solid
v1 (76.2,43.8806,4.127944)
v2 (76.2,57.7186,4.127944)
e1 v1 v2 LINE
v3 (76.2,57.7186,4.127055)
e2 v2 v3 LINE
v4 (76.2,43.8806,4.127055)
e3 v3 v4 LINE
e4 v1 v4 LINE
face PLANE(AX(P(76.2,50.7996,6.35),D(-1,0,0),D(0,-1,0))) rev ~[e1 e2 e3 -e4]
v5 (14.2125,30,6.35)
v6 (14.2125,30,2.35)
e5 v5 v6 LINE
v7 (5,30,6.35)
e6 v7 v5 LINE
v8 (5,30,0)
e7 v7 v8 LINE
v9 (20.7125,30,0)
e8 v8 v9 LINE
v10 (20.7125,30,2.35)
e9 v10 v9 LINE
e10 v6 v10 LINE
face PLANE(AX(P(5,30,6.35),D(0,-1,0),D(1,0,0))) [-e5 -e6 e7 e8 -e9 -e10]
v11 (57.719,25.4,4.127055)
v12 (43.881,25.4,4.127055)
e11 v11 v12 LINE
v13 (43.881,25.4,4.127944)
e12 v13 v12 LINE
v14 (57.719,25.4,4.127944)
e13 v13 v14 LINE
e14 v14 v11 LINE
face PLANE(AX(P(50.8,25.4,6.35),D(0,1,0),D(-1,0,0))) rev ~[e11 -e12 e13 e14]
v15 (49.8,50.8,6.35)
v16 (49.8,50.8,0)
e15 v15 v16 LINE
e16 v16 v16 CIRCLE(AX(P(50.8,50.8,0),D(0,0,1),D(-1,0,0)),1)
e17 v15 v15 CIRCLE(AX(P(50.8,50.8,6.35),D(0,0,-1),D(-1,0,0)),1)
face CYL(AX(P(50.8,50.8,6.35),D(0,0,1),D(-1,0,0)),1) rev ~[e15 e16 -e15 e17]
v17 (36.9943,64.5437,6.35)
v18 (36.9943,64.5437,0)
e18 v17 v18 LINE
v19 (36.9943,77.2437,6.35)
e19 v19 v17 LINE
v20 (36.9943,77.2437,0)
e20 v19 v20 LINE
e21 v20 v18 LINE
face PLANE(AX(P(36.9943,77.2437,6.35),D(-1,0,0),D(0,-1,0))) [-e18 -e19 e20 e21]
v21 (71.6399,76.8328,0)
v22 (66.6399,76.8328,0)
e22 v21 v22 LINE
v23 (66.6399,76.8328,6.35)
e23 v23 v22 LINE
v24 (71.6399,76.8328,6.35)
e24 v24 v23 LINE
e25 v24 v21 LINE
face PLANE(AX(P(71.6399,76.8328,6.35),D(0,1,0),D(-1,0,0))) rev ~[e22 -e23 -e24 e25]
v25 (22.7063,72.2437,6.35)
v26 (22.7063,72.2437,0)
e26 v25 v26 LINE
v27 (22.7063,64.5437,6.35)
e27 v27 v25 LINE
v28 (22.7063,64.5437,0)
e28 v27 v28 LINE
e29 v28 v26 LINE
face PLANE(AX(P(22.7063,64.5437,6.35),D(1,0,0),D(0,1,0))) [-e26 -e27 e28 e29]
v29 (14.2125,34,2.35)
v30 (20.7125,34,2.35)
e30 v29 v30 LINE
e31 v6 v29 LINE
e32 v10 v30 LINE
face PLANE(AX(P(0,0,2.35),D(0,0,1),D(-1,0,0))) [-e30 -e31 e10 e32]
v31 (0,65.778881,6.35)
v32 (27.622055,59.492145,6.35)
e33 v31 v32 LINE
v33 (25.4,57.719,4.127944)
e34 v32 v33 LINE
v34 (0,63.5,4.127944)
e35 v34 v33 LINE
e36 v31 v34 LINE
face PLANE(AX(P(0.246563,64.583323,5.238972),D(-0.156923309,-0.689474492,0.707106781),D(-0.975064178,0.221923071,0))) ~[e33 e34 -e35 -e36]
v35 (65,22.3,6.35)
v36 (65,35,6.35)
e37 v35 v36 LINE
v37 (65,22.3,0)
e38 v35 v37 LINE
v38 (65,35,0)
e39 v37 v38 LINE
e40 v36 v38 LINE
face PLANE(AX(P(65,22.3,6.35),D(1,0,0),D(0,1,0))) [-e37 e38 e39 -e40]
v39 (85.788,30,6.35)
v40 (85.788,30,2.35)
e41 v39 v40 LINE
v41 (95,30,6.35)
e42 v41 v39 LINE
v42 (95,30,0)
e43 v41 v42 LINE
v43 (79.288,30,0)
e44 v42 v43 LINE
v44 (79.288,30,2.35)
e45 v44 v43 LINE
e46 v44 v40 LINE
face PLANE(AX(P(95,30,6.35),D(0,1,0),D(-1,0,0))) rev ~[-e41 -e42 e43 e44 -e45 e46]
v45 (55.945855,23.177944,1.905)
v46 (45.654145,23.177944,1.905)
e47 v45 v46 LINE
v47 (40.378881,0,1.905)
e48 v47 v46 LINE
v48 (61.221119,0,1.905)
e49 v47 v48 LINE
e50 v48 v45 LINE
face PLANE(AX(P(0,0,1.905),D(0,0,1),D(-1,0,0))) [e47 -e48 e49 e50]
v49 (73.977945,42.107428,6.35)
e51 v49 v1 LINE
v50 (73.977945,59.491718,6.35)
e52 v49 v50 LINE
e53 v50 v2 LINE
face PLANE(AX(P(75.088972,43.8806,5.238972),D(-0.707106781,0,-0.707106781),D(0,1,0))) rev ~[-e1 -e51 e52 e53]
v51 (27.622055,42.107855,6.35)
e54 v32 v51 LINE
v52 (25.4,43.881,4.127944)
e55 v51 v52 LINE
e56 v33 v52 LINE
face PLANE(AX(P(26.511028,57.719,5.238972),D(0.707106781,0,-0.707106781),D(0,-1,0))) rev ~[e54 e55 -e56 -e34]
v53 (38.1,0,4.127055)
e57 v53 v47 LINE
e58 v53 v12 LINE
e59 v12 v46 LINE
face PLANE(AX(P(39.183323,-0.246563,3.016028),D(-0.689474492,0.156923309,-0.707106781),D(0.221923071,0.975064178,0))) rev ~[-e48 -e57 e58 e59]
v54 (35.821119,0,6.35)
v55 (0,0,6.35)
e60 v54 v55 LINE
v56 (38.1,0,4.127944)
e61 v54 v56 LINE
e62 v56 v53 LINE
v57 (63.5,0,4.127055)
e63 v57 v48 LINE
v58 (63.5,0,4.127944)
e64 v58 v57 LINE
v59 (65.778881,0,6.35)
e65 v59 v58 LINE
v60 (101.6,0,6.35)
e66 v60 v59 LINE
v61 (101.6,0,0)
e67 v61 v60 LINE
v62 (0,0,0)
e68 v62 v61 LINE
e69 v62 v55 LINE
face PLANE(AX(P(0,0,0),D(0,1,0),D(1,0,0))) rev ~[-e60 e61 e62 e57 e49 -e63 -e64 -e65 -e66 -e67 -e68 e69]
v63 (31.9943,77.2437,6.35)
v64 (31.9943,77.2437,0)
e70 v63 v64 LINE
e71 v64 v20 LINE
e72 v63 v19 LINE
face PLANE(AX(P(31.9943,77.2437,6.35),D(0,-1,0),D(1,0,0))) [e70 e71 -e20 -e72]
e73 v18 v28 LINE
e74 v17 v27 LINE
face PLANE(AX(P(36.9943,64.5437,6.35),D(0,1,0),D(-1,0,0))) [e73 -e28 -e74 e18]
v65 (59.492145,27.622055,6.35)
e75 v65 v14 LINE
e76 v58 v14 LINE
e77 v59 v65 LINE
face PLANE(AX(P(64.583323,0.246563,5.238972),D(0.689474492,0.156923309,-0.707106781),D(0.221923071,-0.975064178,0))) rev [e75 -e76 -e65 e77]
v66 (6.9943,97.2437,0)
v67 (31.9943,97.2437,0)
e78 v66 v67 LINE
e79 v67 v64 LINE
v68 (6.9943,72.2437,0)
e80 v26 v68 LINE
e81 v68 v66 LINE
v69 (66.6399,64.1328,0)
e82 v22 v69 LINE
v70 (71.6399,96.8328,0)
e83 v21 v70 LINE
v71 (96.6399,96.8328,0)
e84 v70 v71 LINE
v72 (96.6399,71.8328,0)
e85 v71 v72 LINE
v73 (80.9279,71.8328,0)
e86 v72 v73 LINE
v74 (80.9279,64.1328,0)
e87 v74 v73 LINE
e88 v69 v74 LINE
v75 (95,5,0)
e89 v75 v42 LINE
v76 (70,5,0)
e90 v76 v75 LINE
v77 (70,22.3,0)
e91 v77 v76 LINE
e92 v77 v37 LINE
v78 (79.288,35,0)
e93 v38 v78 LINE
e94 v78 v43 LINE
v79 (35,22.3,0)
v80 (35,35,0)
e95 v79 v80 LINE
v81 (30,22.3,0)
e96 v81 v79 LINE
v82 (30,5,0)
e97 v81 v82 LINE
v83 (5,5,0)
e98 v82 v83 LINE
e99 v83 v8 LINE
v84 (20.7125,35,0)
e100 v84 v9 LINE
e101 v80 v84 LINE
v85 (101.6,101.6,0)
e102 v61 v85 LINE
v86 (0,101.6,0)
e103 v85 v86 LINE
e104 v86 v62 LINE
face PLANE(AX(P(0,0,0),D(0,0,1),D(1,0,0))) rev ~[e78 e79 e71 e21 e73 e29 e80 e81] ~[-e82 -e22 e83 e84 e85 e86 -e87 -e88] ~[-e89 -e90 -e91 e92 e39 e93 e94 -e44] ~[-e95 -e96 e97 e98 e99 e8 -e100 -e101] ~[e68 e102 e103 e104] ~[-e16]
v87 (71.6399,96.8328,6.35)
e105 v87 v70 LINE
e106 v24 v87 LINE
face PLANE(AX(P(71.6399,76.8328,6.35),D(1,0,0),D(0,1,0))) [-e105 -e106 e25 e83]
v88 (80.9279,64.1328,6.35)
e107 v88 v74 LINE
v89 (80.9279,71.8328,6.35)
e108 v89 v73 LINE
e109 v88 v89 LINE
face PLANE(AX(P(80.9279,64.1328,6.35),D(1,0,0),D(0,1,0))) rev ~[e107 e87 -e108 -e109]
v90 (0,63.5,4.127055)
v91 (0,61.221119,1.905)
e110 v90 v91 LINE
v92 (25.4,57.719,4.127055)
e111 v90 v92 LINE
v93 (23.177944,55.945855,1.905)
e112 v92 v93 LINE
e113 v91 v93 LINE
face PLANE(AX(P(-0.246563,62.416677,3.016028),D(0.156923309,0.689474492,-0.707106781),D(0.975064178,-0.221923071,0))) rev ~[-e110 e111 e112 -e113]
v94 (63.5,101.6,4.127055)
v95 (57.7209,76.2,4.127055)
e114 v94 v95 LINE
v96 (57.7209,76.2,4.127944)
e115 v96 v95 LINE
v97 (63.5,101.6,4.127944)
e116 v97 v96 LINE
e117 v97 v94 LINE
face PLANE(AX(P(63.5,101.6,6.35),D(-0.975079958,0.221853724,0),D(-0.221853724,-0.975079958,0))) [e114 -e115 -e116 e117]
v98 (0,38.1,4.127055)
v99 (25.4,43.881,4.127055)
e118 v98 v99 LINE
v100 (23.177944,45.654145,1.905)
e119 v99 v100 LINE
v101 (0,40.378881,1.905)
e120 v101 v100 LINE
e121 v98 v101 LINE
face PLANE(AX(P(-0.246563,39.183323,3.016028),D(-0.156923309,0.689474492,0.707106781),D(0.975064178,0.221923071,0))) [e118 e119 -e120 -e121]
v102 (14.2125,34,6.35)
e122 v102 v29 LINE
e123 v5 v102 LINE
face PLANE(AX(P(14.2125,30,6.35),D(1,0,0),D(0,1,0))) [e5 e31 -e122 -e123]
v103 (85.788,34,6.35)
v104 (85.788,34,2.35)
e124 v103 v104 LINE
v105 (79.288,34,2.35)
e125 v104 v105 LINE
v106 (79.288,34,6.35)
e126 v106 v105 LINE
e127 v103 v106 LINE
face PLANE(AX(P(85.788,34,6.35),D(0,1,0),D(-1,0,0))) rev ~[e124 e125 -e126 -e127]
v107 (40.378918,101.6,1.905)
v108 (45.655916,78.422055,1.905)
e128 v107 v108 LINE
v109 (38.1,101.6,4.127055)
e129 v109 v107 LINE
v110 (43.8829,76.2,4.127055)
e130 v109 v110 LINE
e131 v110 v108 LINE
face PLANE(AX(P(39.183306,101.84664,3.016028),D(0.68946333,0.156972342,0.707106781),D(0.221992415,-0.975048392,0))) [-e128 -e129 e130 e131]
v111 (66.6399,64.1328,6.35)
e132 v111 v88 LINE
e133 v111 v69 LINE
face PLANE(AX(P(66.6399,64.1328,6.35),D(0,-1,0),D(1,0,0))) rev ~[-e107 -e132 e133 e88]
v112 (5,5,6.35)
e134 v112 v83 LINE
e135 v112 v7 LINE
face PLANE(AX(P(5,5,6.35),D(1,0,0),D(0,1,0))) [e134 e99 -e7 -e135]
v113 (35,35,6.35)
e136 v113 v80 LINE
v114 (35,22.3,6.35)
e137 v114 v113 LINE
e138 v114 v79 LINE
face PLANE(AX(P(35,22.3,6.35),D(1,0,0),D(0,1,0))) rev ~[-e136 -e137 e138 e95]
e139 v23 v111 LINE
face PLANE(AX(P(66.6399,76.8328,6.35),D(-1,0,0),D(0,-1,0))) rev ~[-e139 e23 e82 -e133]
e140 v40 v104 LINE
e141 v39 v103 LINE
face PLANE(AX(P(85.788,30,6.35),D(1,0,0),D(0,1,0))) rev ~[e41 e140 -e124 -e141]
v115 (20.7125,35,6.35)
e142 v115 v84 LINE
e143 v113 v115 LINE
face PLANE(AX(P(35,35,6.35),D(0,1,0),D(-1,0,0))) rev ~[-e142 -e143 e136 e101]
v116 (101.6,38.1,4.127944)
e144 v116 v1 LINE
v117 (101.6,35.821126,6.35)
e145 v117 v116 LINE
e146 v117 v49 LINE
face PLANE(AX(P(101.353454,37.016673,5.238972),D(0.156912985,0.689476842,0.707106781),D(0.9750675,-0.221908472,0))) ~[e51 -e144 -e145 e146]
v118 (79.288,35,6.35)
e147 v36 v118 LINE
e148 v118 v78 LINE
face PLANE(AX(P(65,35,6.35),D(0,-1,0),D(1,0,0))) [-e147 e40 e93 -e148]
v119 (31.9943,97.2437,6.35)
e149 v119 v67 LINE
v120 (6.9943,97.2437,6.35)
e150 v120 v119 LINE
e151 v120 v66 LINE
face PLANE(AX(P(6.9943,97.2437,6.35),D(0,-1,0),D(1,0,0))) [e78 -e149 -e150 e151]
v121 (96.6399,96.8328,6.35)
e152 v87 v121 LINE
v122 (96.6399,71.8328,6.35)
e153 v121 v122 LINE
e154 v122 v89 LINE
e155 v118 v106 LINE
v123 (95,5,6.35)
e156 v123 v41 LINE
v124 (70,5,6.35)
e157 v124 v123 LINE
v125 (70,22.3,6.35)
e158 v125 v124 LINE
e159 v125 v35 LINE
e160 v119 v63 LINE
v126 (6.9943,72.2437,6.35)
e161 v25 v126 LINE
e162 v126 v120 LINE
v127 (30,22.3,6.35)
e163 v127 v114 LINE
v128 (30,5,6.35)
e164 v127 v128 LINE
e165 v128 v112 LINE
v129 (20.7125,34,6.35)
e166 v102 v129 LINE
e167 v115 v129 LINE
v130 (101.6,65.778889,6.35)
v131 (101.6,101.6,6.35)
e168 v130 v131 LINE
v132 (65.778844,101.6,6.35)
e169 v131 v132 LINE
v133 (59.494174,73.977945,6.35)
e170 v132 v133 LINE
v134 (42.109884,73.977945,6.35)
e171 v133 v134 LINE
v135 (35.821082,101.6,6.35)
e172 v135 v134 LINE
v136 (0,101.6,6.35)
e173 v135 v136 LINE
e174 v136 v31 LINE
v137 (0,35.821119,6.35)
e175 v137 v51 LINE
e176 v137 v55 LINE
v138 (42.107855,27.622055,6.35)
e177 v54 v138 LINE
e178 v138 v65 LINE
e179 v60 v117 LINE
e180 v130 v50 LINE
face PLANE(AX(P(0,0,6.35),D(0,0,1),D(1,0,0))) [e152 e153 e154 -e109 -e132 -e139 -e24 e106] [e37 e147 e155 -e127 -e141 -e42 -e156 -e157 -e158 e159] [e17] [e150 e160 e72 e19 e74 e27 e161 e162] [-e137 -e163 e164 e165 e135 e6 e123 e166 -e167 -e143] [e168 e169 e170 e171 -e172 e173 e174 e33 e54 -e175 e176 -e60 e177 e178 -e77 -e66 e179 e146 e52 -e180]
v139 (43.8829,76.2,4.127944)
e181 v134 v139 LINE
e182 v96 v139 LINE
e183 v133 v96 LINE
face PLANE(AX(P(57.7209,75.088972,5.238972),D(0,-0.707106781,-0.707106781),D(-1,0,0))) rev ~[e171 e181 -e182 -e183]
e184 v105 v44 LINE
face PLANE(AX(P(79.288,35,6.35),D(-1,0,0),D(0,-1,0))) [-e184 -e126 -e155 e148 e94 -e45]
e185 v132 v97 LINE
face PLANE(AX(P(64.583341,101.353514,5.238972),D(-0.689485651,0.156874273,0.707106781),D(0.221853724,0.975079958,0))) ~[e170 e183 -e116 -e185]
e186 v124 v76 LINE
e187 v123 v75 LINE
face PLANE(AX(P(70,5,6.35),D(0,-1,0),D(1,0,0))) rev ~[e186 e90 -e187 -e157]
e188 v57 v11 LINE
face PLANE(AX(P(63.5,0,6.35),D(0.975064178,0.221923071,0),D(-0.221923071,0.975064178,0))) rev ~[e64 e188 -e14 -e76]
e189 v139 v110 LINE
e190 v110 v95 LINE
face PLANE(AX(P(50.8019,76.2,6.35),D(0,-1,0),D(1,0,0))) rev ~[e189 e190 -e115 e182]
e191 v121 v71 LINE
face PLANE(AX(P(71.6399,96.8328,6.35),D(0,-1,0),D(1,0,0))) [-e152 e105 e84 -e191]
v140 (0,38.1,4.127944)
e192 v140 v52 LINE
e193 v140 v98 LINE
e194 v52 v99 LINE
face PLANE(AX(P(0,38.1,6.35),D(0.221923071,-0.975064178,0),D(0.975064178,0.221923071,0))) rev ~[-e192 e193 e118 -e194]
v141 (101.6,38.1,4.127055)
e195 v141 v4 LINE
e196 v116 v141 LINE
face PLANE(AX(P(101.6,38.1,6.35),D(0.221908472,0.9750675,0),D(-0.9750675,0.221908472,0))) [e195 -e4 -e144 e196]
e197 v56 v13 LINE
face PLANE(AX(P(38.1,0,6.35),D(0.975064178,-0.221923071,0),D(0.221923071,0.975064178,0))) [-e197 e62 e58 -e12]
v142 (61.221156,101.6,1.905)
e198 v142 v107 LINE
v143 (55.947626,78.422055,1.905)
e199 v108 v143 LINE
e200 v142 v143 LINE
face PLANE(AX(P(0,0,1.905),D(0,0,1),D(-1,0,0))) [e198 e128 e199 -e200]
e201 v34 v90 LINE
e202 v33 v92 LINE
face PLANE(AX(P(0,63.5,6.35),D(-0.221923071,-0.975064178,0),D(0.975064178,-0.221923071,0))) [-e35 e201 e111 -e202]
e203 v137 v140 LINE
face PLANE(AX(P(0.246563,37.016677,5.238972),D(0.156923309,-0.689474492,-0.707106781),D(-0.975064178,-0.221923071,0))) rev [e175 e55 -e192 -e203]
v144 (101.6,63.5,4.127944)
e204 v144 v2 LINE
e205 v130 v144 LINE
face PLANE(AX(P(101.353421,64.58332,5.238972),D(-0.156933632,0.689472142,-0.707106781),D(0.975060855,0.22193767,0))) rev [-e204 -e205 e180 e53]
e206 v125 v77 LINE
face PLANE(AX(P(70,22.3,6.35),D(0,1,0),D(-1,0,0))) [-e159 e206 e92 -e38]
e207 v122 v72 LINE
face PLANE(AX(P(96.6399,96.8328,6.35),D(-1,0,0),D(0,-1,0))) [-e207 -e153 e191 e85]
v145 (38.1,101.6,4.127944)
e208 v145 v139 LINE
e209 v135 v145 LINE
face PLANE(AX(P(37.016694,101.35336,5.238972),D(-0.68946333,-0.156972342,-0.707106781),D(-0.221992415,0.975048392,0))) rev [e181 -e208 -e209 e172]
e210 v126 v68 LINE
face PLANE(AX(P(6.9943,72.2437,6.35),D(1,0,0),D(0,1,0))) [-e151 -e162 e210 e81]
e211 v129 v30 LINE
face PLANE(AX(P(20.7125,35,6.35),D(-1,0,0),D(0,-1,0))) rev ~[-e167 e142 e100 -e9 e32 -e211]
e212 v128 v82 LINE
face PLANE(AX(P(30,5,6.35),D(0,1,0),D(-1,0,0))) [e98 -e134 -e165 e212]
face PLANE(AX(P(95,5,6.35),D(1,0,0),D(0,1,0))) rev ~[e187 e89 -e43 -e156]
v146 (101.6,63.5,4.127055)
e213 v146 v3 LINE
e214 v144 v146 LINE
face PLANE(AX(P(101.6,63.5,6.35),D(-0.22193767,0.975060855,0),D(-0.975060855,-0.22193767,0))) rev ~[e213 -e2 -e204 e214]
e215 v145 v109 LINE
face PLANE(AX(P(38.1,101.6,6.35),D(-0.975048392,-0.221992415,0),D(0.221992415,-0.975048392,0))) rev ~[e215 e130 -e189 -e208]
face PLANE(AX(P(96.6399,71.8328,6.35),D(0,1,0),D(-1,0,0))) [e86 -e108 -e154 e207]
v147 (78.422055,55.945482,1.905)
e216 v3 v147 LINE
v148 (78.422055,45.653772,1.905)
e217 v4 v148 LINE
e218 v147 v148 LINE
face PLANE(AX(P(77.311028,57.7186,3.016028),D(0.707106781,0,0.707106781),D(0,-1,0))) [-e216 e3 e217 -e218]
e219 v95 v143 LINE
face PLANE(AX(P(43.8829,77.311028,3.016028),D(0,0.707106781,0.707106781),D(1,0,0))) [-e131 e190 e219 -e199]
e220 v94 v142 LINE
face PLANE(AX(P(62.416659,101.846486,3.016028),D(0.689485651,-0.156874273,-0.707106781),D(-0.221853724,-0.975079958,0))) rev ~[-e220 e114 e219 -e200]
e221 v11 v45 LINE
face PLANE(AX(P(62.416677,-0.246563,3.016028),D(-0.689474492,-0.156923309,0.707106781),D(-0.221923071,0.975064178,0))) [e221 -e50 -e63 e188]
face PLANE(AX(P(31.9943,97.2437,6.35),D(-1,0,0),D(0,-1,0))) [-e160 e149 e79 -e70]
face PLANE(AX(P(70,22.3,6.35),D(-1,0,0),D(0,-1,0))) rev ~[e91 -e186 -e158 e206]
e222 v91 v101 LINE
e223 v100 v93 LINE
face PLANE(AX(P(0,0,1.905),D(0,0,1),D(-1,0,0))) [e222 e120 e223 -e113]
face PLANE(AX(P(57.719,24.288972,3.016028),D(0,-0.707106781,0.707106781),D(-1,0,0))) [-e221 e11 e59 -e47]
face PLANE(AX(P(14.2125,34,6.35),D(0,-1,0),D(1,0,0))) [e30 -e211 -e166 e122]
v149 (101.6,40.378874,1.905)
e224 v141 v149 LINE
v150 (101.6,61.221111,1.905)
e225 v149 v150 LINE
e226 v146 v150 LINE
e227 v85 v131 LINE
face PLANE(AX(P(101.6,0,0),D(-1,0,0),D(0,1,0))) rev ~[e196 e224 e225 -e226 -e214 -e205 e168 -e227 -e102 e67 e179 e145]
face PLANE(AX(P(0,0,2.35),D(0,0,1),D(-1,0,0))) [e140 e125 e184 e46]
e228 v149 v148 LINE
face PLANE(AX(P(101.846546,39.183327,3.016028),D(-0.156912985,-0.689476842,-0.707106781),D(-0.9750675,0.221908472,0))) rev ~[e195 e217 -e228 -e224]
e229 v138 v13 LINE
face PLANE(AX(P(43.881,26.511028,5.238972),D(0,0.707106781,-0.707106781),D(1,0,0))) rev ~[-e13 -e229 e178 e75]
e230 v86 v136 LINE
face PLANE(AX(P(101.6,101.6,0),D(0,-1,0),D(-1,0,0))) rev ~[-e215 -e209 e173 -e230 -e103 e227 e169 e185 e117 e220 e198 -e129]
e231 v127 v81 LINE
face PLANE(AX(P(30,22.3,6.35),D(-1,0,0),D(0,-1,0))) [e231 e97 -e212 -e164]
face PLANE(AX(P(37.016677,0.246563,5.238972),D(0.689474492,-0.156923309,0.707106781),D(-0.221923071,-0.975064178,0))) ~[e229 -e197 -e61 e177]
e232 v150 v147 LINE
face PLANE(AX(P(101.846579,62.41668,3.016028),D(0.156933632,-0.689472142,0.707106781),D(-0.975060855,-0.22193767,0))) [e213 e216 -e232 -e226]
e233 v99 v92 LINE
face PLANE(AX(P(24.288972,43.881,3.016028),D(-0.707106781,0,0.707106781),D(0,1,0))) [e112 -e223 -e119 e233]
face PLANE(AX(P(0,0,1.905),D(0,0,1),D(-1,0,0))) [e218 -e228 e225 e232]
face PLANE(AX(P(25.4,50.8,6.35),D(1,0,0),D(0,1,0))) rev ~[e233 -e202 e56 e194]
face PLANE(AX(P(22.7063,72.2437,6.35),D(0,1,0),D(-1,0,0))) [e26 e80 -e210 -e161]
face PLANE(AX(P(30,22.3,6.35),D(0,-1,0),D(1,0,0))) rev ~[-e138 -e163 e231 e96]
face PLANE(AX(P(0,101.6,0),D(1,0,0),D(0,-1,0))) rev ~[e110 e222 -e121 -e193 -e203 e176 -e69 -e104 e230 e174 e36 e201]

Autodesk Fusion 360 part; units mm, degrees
sketch "Sketch1" plane through (0, 0, 0) normal (0, 0, 1) x (1, 0, 0)
  line L0 (0, 0) -> (10, 0)
  line L1 (10, 0) -> (101.6, 0)
  line L2 (101.6, 0) -> (101.6, 101.6)
  line L3 (101.6, 101.6) -> (0, 101.6)
  line L4 (0, 101.6) -> (0, 0)
  dimension "d32" = 101.6
  dimension "d55" = 101.6
  dimension "d56" = 101.6
extrude "Extrude1" add sketch "Sketch1" along normal blind 6.35
sketch "Sketch2" plane through (0, 0, 6.35) normal (0, 0, 1) x (-1, 0, 0)
  line L0 (0, -101.6) -> (0, 0)
  line L1 (0, 0) -> (-101.6, 0)
  line L2 (-101.6, 0) -> (-101.6, -101.6)
  line L3 (-101.6, -101.6) -> (0, -101.6)
  line L4 (0, 0) -> (-50.8, 0)
  line L5 (0, 0) -> (0, -50.8)
  circle A0 centre (-50.8, -50.8) radius 1
  line L6 (0, -50.8) -> (-49.8, -50.8)
  line L7 (-51.8, -50.8) -> (-101.6, -50.8)
  line L8 (-50.8, 0) -> (-50.8, -49.8)
  line L9 (-50.8, -51.8) -> (-50.8, -101.6)
  dimension "d33" = 50.8
  dimension "d34" = 50.8
  dimension "d35" = 2
extrude "Extrude2" cut sketch "Sketch2" against normal blind 6.35 contours A0
sketch "Sketch3" plane through (0, 0, 6.35) normal (0, 0, 1) x (-1, 0, 0)
  line L0 (0, -101.6) -> (0, 0)
  line L1 (0, 0) -> (-101.6, 0)
  line L2 (-101.6, 0) -> (-101.6, -101.6)
  line L3 (-101.6, -101.6) -> (0, -101.6)
  line L4 (0, -50.8) -> (0, -38.1)
  line L5 (0, -50.8) -> (0, -63.5)
  line L6 (-50.8, -101.6) -> (-38.1, -101.6)
  line L7 (-50.8, -101.6) -> (-63.5, -101.6)
  line L8 (-101.6, -50.8) -> (-101.6, -63.5)
  line L9 (-101.6, -50.8) -> (-101.6, -38.1)
  line L10 (-50.8, 0) -> (-38.1, 0)
  line L11 (-50.8, 0) -> (-63.5, 0)
  line L12 (-50.8019, -76.2) -> (-43.8829, -76.2)
  line L13 (-50.8019, -76.2) -> (-57.7209, -76.2)
  line L14 (-25.4, -50.8) -> (-25.4, -43.881)
  line L15 (-25.4, -50.8) -> (-25.4, -57.719)
  line L16 (-76.2, -50.7996) -> (-76.2, -57.7186)
  line L17 (-76.2, -50.7996) -> (-76.2, -43.8806)
  line L18 (-38.1, 0) -> (-43.881, -25.4)
  line L19 (-63.5, 0) -> (-57.719, -25.4)
  line L20 (0, -38.1) -> (-25.4, -43.881)
  line L21 (0, -63.5) -> (-25.4, -57.719)
  line L22 (-38.1, -101.6) -> (-43.8829, -76.2)
  line L23 (-63.5, -101.6) -> (-57.7209, -76.2)
  line L24 (-101.6, -63.5) -> (-76.2, -57.7186)
  line L25 (-101.6, -38.1) -> (-76.2, -43.8806)
  circle A0 centre (-50.8, -50.8) radius 1
  line L26 (-50.8, -25.4) -> (-43.881, -25.4)
  line L27 (-50.8, -25.4) -> (-57.719, -25.4)
  dimension "d8" = 12.7
  dimension "d9" = 12.7
  dimension "d10" = 12.7
  dimension "d11" = 12.7
  dimension "d12" = 12.7
  dimension "d13" = 12.7
  dimension "d14" = 12.7
  dimension "d15" = 12.7
  dimension "d17" = 25.4
  dimension "d18" = 25.4
  dimension "d36" = 6.919
  dimension "d37" = 6.919
  dimension "d40" = 6.919
  dimension "d41" = 6.919
  dimension "d42" = 25.4
  dimension "d43" = 26.0496
  dimension "d44" = 26.0496
  dimension "d45" = 26.0496
  dimension "d46" = 6.919
  dimension "d47" = 6.919
  dimension "d48" = 6.919
  dimension "d49" = 6.919
  dimension "d50" = 25.4
  dimension "d51" = 25.4
  dimension "d52" = 26.05
extrude "Extrude3" cut sketch "Sketch3" against normal blind 4.445 contours L0 L4 L5 L14 L15 L20 L21 | L3 L6 L7 L12 L13 L22 L23 | L1 L10 L11 L18 L19 L26 L27 | L2 L8 L9 L16 L17 L24 L25
chamfer "Chamfer1" distance 2.2225 angle 45 6 edges at (40.9905, 12.7, 6.35) (40.9905, 12.7, 1.905) (60.6095, 12.7, 6.35) (60.6095, 12.7, 1.905) (50.8, 25.4, 1.905) (50.8, 25.4, 6.35) measured on face at (23.0943, 78.5063, 6.35) measured on face at (40.027, 8.4667, 4.8683) measured on face at (23.0943, 78.5063, 6.35) measured on face at (61.573, 8.4667, 4.8683) measured on face at (53.1063, 25.4, 4.8683) measured on face at (23.0943, 78.5063, 6.35)
chamfer "Chamfer2" distance 2.2225 angle 45 6 edges at (88.9, 60.6093, 1.905) (88.9, 60.6093, 6.35) (76.2, 50.7996, 6.35) (76.2, 50.7996, 1.905) (88.9, 40.9903, 6.35) (88.9, 40.9903, 1.905) measured on face at (93.1333, 61.5729, 4.8683) measured on face at (14.036, 21.9074, 6.35) measured on face at (14.036, 21.9074, 6.35) measured on face at (76.2, 53.1059, 4.8683) measured on face at (14.036, 21.9074, 6.35) measured on face at (93.1333, 40.0269, 4.8683)
chamfer "Chamfer3" distance 2.2225 angle 45 6 edges at (60.6105, 88.9, 6.35) (60.6105, 88.9, 1.905) (50.8019, 76.2, 6.35) (50.8019, 76.2, 1.905) (40.9915, 88.9, 6.35) (40.9915, 88.9, 1.905) measured on face at (79.6926, 87.5639, 6.35) measured on face at (61.5736, 93.1333, 4.8683) measured on face at (79.6926, 87.5639, 6.35) measured on face at (48.4956, 76.2, 4.8683) measured on face at (79.6926, 87.5639, 6.35) measured on face at (40.0276, 93.1333, 4.8683)
chamfer "Chamfer4" distance 2.2225 angle 45 6 edges at (12.7, 60.6095, 1.905) (12.7, 60.6095, 6.35) (25.4, 50.8, 6.35) (25.4, 50.8, 1.905) (12.7, 40.9905, 6.35) (12.7, 40.9905, 1.905) measured on face at (16.9333, 59.646, 3.3867) measured on face at (14.0366, 79.6926, 6.35) measured on face at (14.0366, 79.6926, 6.35) measured on face at (25.4, 48.4937, 4.8683) measured on face at (14.0366, 79.6926, 6.35) measured on face at (8.4667, 40.027, 4.8683)
sketch "Sketch5" plane through (0, 0, 6.35) normal (0, 0, 1) x (-1, 0, 0)
  line L0 (0, -65.7793) -> (-27.6225, -59.4925)
  line L1 (-27.6225, -59.4925) -> (-27.6225, -42.1075)
  line L2 (-27.6225, -42.1075) -> (0, -35.8207)
  line L3 (0, -35.8207) -> (0, 0)
  line L4 (0, 0) -> (-35.8207, 0)
  line L5 (-35.8207, 0) -> (-42.1075, -27.6225)
  line L6 (-42.1075, -27.6225) -> (-59.4925, -27.6225)
  line L7 (-59.4925, -27.6225) -> (-65.7793, 0)
  line L8 (-65.7793, 0) -> (-101.6, 0)
  line L9 (-101.6, 0) -> (-101.6, -35.8207)
  line L10 (-101.6, -35.8207) -> (-73.9775, -42.1071)
  line L11 (-73.9775, -42.1071) -> (-73.9775, -59.4921)
  line L12 (-73.9775, -59.4921) -> (-101.6, -65.7793)
  line L13 (-101.6, -65.7793) -> (-101.6, -101.6)
  line L14 (-101.6, -101.6) -> (-65.7793, -101.6)
  line L15 (-65.7793, -101.6) -> (-59.4946, -73.9775)
  line L16 (-59.4946, -73.9775) -> (-42.1096, -73.9775)
  line L17 (-42.1096, -73.9775) -> (-35.8206, -101.6)
  line L18 (-35.8206, -101.6) -> (0, -101.6)
  line L19 (0, -101.6) -> (0, -65.7793)
  circle A0 centre (-50.8, -50.8) radius 1
  line L20 (-5, -30) -> (-20.7125, -30)
  line L21 (-30, -22.3) -> (-30, -5)
  line L22 (-30, -5) -> (-5, -5)
  line L23 (-5, -5) -> (-5, -30)
  line L24 (-6.9943, -97.2437) -> (-31.9943, -97.2437)
  line L25 (-31.9943, -97.2437) -> (-31.9943, -77.2437)
  line L26 (-22.7063, -72.2437) -> (-6.9943, -72.2437)
  line L27 (-6.9943, -72.2437) -> (-6.9943, -97.2437)
  line L28 (-71.6399, -96.8328) -> (-96.6399, -96.8328)
  line L29 (-96.6399, -96.8328) -> (-96.6399, -71.8328)
  line L30 (-96.6399, -71.8328) -> (-80.9279, -71.8328)
  line L31 (-71.6399, -76.8328) -> (-71.6399, -96.8328)
  line L32 (-70, -5) -> (-95, -5)
  line L33 (-95, -5) -> (-95, -30)
  line L34 (-95, -30) -> (-79.288, -30)
  line L35 (-70, -22.3) -> (-70, -5)
  line L36 (-65, -35) -> (-79.288, -35)
  line L37 (-79.288, -35) -> (-79.288, -30)
  line L38 (-70, -22.3) -> (-65, -22.3)
  line L39 (-65, -22.3) -> (-65, -35)
  line L40 (-35, -35) -> (-20.7125, -35)
  line L41 (-20.7125, -35) -> (-20.7125, -30)
  line L42 (-30, -22.3) -> (-35, -22.3)
  line L43 (-35, -22.3) -> (-35, -35)
  line L44 (-31.9943, -77.2437) -> (-36.9943, -77.2437)
  line L45 (-36.9943, -77.2437) -> (-36.9943, -64.5437)
  line L46 (-36.9943, -64.5437) -> (-22.7063, -64.5437)
  line L47 (-22.7063, -64.5437) -> (-22.7063, -72.2437)
  line L48 (-71.6399, -76.8328) -> (-66.6399, -76.8328)
  line L49 (-66.6399, -76.8328) -> (-66.6399, -64.1328)
  line L50 (-66.6399, -64.1328) -> (-80.9279, -64.1328)
  line L51 (-80.9279, -64.1328) -> (-80.9279, -71.8328)
  line L52 (-35, -35) -> (-20.7125, -35)
  line L53 (-20.7125, -35) -> (-20.7125, -30)
  line L54 (-30, -22.3) -> (-35, -22.3)
  line L55 (-35, -22.3) -> (-35, -35)
  dimension "d57" = 14.2875
  dimension "d58" = 12.7
  dimension "d59" = 14.2875
  dimension "d60" = 12.7
  dimension "d61" = 14.288
  dimension "d62" = 12.7
  dimension "d63" = 14.288
  dimension "d64" = 12.7
  dimension "d65" = 12.7
  dimension "d66" = 14.288
extrude "Extrude5" cut sketch "Sketch5" against normal blind 6.35 contours L20 L21 L22 L23 L40 L41 L42 L43 L52 L53 L54 L55 | L24 L25 L26 L27 L44 L45 L46 L47 | L28 L29 L30 L31 L48 L49 L50 L51 | L32 L33 L34 L35 L36 L37 L38 L39
sketch "Sketch6" plane through (0, 0, 6.35) normal (0, 0, 1) x (-1, 0, 0)
  line L0 (-35, -35) -> (-35, -22.3)
  line L1 (-35, -22.3) -> (-30, -22.3)
  line L2 (-30, -22.3) -> (-30, -5)
  line L3 (-30, -5) -> (-5, -5)
  line L4 (-5, -5) -> (-5, -30)
  line L5 (-5, -30) -> (-20.7125, -30)
  line L6 (-20.7125, -30) -> (-20.7125, -35)
  line L7 (-20.7125, -35) -> (-35, -35)
  line L8 (-66.6399, -64.1328) -> (-66.6399, -76.8328)
  line L9 (-66.6399, -76.8328) -> (-71.6399, -76.8328)
  line L10 (-71.6399, -76.8328) -> (-71.6399, -96.8328)
  line L11 (-71.6399, -96.8328) -> (-96.6399, -96.8328)
  line L12 (-96.6399, -96.8328) -> (-96.6399, -71.8328)
  line L13 (-96.6399, -71.8328) -> (-80.9279, -71.8328)
  line L14 (-80.9279, -71.8328) -> (-80.9279, -64.1328)
  line L15 (-80.9279, -64.1328) -> (-66.6399, -64.1328)
  line L16 (-36.9943, -77.2437) -> (-36.9943, -64.5437)
  line L17 (-36.9943, -64.5437) -> (-22.7063, -64.5437)
  line L18 (-22.7063, -64.5437) -> (-22.7063, -72.2437)
  line L19 (-22.7063, -72.2437) -> (-6.9943, -72.2437)
  line L20 (-6.9943, -72.2437) -> (-6.9943, -97.2437)
  line L21 (-6.9943, -97.2437) -> (-31.9943, -97.2437)
  line L22 (-31.9943, -97.2437) -> (-31.9943, -77.2437)
  line L23 (-31.9943, -77.2437) -> (-36.9943, -77.2437)
  line L24 (-95, -5) -> (-70, -5)
  line L25 (-70, -5) -> (-70, -22.3)
  line L26 (-70, -22.3) -> (-65, -22.3)
  line L27 (-65, -22.3) -> (-65, -35)
  line L28 (-65, -35) -> (-79.288, -35)
  line L29 (-79.288, -35) -> (-79.288, -30)
  line L30 (-79.288, -30) -> (-95, -30)
  line L31 (-95, -30) -> (-95, -5)
  line L32 (0, -65.7793) -> (-27.6225, -59.4925)
  line L33 (-27.6225, -59.4925) -> (-27.6225, -42.1075)
  line L34 (-27.6225, -42.1075) -> (0, -35.8207)
  line L35 (0, -35.8207) -> (0, 0)
  line L36 (0, 0) -> (-35.8207, 0)
  line L37 (-35.8207, 0) -> (-42.1075, -27.6225)
  line L38 (-42.1075, -27.6225) -> (-59.4925, -27.6225)
  line L39 (-59.4925, -27.6225) -> (-65.7793, 0)
  line L40 (-65.7793, 0) -> (-101.6, 0)
  line L41 (-101.6, 0) -> (-101.6, -35.8207)
  line L42 (-101.6, -35.8207) -> (-73.9775, -42.1071)
  line L43 (-73.9775, -42.1071) -> (-73.9775, -59.4921)
  line L44 (-73.9775, -59.4921) -> (-101.6, -65.7793)
  line L45 (-101.6, -65.7793) -> (-101.6, -101.6)
  line L46 (-101.6, -101.6) -> (-65.7793, -101.6)
  line L47 (-65.7793, -101.6) -> (-59.4946, -73.9775)
  line L48 (-59.4946, -73.9775) -> (-42.1096, -73.9775)
  line L49 (-42.1096, -73.9775) -> (-35.8206, -101.6)
  line L50 (-35.8206, -101.6) -> (0, -101.6)
  line L51 (0, -101.6) -> (0, -65.7793)
  circle A0 centre (-50.8, -50.8) radius 1
  line L52 (-70, -22.3) -> (-66, -22.3)
  line L53 (-66, -22.3) -> (-66, -15.8)
  line L54 (-66, -15.8) -> (-70, -15.8)
  line L55 (-70, -22.3) -> (-70, -15.8)
  line L56 (-30, -22.3) -> (-34, -22.3)
  line L57 (-34, -22.3) -> (-34, -15.8)
  line L58 (-34, -15.8) -> (-30, -15.8)
  line L59 (-30, -22.3) -> (-30, -15.8)
  dimension "d67" = 4
  dimension "d68" = 6.5
  dimension "d69" = 4
  dimension "d70" = 6.5
sketch "Sketch7" plane through (0, 0, 6.35) normal (0, 0, 1) x (-1, 0, 0)
  circle A0 centre (-50.8, -50.8) radius 1
  line L0 (0, -65.7793) -> (-27.6225, -59.4925)
  line L1 (-27.6225, -59.4925) -> (-27.6225, -42.1075)
  line L2 (-27.6225, -42.1075) -> (0, -35.8207)
  line L3 (0, -35.8207) -> (0, 0)
  line L4 (0, 0) -> (-35.8207, 0)
  line L5 (-35.8207, 0) -> (-42.1075, -27.6225)
  line L6 (-42.1075, -27.6225) -> (-59.4925, -27.6225)
  line L7 (-59.4925, -27.6225) -> (-65.7793, 0)
  line L8 (-65.7793, 0) -> (-101.6, 0)
  line L9 (-101.6, 0) -> (-101.6, -35.8207)
  line L10 (-101.6, -35.8207) -> (-73.9775, -42.1071)
  line L11 (-73.9775, -42.1071) -> (-73.9775, -59.4921)
  line L12 (-73.9775, -59.4921) -> (-101.6, -65.7793)
  line L13 (-101.6, -65.7793) -> (-101.6, -101.6)
  line L14 (-101.6, -101.6) -> (-65.7793, -101.6)
  line L15 (-65.7793, -101.6) -> (-59.4946, -73.9775)
  line L16 (-59.4946, -73.9775) -> (-42.1096, -73.9775)
  line L17 (-42.1096, -73.9775) -> (-35.8206, -101.6)
  line L18 (-35.8206, -101.6) -> (0, -101.6)
  line L19 (0, -101.6) -> (0, -65.7793)
  line L20 (-70, -22.3) -> (-65, -22.3)
  line L21 (-65, -22.3) -> (-65, -35)
  line L22 (-65, -35) -> (-79.288, -35)
  line L23 (-79.288, -35) -> (-79.288, -30)
  line L24 (-79.288, -30) -> (-95, -30)
  line L25 (-95, -30) -> (-95, -5)
  line L26 (-95, -5) -> (-70, -5)
  line L27 (-70, -5) -> (-70, -22.3)
  line L28 (-36.9943, -77.2437) -> (-36.9943, -64.5437)
  line L29 (-36.9943, -64.5437) -> (-22.7063, -64.5437)
  line L30 (-22.7063, -64.5437) -> (-22.7063, -72.2437)
  line L31 (-22.7063, -72.2437) -> (-6.9943, -72.2437)
  line L32 (-6.9943, -72.2437) -> (-6.9943, -97.2437)
  line L33 (-6.9943, -97.2437) -> (-31.9943, -97.2437)
  line L34 (-31.9943, -97.2437) -> (-31.9943, -77.2437)
  line L35 (-31.9943, -77.2437) -> (-36.9943, -77.2437)
  line L36 (-66.6399, -64.1328) -> (-66.6399, -76.8328)
  line L37 (-66.6399, -76.8328) -> (-71.6399, -76.8328)
  line L38 (-71.6399, -76.8328) -> (-71.6399, -96.8328)
  line L39 (-71.6399, -96.8328) -> (-96.6399, -96.8328)
  line L40 (-96.6399, -96.8328) -> (-96.6399, -71.8328)
  line L41 (-96.6399, -71.8328) -> (-80.9279, -71.8328)
  line L42 (-80.9279, -71.8328) -> (-80.9279, -64.1328)
  line L43 (-80.9279, -64.1328) -> (-66.6399, -64.1328)
  line L44 (-30, -22.3) -> (-30, -5)
  line L45 (-30, -5) -> (-5, -5)
  line L46 (-5, -5) -> (-5, -30)
  line L47 (-5, -30) -> (-20.7125, -30)
  line L48 (-20.7125, -30) -> (-20.7125, -35)
  line L49 (-20.7125, -35) -> (-35, -35)
  line L50 (-35, -35) -> (-35, -22.3)
  line L51 (-35, -22.3) -> (-30, -22.3)
  line L52 (-79.288, -30) -> (-85.788, -30)
  line L53 (-85.788, -30) -> (-85.788, -34)
  line L54 (-85.788, -34) -> (-79.288, -34)
  line L55 (-79.288, -30) -> (-79.288, -34)
  line L56 (-20.7125, -30) -> (-14.2125, -30)
  line L57 (-14.2125, -30) -> (-14.2125, -34)
  line L58 (-14.2125, -34) -> (-20.7125, -34)
  line L59 (-20.7125, -30) -> (-20.7125, -34)
  dimension "d73" = 6.5
  dimension "d74" = 4
  dimension "d75" = 6.5
  dimension "d76" = 4
extrude "Extrude7" cut sketch "Sketch7" against normal blind 4 contours L23 L24 L52 L53 L54 L55 | L47 L48 L56 L57 L58 L59
